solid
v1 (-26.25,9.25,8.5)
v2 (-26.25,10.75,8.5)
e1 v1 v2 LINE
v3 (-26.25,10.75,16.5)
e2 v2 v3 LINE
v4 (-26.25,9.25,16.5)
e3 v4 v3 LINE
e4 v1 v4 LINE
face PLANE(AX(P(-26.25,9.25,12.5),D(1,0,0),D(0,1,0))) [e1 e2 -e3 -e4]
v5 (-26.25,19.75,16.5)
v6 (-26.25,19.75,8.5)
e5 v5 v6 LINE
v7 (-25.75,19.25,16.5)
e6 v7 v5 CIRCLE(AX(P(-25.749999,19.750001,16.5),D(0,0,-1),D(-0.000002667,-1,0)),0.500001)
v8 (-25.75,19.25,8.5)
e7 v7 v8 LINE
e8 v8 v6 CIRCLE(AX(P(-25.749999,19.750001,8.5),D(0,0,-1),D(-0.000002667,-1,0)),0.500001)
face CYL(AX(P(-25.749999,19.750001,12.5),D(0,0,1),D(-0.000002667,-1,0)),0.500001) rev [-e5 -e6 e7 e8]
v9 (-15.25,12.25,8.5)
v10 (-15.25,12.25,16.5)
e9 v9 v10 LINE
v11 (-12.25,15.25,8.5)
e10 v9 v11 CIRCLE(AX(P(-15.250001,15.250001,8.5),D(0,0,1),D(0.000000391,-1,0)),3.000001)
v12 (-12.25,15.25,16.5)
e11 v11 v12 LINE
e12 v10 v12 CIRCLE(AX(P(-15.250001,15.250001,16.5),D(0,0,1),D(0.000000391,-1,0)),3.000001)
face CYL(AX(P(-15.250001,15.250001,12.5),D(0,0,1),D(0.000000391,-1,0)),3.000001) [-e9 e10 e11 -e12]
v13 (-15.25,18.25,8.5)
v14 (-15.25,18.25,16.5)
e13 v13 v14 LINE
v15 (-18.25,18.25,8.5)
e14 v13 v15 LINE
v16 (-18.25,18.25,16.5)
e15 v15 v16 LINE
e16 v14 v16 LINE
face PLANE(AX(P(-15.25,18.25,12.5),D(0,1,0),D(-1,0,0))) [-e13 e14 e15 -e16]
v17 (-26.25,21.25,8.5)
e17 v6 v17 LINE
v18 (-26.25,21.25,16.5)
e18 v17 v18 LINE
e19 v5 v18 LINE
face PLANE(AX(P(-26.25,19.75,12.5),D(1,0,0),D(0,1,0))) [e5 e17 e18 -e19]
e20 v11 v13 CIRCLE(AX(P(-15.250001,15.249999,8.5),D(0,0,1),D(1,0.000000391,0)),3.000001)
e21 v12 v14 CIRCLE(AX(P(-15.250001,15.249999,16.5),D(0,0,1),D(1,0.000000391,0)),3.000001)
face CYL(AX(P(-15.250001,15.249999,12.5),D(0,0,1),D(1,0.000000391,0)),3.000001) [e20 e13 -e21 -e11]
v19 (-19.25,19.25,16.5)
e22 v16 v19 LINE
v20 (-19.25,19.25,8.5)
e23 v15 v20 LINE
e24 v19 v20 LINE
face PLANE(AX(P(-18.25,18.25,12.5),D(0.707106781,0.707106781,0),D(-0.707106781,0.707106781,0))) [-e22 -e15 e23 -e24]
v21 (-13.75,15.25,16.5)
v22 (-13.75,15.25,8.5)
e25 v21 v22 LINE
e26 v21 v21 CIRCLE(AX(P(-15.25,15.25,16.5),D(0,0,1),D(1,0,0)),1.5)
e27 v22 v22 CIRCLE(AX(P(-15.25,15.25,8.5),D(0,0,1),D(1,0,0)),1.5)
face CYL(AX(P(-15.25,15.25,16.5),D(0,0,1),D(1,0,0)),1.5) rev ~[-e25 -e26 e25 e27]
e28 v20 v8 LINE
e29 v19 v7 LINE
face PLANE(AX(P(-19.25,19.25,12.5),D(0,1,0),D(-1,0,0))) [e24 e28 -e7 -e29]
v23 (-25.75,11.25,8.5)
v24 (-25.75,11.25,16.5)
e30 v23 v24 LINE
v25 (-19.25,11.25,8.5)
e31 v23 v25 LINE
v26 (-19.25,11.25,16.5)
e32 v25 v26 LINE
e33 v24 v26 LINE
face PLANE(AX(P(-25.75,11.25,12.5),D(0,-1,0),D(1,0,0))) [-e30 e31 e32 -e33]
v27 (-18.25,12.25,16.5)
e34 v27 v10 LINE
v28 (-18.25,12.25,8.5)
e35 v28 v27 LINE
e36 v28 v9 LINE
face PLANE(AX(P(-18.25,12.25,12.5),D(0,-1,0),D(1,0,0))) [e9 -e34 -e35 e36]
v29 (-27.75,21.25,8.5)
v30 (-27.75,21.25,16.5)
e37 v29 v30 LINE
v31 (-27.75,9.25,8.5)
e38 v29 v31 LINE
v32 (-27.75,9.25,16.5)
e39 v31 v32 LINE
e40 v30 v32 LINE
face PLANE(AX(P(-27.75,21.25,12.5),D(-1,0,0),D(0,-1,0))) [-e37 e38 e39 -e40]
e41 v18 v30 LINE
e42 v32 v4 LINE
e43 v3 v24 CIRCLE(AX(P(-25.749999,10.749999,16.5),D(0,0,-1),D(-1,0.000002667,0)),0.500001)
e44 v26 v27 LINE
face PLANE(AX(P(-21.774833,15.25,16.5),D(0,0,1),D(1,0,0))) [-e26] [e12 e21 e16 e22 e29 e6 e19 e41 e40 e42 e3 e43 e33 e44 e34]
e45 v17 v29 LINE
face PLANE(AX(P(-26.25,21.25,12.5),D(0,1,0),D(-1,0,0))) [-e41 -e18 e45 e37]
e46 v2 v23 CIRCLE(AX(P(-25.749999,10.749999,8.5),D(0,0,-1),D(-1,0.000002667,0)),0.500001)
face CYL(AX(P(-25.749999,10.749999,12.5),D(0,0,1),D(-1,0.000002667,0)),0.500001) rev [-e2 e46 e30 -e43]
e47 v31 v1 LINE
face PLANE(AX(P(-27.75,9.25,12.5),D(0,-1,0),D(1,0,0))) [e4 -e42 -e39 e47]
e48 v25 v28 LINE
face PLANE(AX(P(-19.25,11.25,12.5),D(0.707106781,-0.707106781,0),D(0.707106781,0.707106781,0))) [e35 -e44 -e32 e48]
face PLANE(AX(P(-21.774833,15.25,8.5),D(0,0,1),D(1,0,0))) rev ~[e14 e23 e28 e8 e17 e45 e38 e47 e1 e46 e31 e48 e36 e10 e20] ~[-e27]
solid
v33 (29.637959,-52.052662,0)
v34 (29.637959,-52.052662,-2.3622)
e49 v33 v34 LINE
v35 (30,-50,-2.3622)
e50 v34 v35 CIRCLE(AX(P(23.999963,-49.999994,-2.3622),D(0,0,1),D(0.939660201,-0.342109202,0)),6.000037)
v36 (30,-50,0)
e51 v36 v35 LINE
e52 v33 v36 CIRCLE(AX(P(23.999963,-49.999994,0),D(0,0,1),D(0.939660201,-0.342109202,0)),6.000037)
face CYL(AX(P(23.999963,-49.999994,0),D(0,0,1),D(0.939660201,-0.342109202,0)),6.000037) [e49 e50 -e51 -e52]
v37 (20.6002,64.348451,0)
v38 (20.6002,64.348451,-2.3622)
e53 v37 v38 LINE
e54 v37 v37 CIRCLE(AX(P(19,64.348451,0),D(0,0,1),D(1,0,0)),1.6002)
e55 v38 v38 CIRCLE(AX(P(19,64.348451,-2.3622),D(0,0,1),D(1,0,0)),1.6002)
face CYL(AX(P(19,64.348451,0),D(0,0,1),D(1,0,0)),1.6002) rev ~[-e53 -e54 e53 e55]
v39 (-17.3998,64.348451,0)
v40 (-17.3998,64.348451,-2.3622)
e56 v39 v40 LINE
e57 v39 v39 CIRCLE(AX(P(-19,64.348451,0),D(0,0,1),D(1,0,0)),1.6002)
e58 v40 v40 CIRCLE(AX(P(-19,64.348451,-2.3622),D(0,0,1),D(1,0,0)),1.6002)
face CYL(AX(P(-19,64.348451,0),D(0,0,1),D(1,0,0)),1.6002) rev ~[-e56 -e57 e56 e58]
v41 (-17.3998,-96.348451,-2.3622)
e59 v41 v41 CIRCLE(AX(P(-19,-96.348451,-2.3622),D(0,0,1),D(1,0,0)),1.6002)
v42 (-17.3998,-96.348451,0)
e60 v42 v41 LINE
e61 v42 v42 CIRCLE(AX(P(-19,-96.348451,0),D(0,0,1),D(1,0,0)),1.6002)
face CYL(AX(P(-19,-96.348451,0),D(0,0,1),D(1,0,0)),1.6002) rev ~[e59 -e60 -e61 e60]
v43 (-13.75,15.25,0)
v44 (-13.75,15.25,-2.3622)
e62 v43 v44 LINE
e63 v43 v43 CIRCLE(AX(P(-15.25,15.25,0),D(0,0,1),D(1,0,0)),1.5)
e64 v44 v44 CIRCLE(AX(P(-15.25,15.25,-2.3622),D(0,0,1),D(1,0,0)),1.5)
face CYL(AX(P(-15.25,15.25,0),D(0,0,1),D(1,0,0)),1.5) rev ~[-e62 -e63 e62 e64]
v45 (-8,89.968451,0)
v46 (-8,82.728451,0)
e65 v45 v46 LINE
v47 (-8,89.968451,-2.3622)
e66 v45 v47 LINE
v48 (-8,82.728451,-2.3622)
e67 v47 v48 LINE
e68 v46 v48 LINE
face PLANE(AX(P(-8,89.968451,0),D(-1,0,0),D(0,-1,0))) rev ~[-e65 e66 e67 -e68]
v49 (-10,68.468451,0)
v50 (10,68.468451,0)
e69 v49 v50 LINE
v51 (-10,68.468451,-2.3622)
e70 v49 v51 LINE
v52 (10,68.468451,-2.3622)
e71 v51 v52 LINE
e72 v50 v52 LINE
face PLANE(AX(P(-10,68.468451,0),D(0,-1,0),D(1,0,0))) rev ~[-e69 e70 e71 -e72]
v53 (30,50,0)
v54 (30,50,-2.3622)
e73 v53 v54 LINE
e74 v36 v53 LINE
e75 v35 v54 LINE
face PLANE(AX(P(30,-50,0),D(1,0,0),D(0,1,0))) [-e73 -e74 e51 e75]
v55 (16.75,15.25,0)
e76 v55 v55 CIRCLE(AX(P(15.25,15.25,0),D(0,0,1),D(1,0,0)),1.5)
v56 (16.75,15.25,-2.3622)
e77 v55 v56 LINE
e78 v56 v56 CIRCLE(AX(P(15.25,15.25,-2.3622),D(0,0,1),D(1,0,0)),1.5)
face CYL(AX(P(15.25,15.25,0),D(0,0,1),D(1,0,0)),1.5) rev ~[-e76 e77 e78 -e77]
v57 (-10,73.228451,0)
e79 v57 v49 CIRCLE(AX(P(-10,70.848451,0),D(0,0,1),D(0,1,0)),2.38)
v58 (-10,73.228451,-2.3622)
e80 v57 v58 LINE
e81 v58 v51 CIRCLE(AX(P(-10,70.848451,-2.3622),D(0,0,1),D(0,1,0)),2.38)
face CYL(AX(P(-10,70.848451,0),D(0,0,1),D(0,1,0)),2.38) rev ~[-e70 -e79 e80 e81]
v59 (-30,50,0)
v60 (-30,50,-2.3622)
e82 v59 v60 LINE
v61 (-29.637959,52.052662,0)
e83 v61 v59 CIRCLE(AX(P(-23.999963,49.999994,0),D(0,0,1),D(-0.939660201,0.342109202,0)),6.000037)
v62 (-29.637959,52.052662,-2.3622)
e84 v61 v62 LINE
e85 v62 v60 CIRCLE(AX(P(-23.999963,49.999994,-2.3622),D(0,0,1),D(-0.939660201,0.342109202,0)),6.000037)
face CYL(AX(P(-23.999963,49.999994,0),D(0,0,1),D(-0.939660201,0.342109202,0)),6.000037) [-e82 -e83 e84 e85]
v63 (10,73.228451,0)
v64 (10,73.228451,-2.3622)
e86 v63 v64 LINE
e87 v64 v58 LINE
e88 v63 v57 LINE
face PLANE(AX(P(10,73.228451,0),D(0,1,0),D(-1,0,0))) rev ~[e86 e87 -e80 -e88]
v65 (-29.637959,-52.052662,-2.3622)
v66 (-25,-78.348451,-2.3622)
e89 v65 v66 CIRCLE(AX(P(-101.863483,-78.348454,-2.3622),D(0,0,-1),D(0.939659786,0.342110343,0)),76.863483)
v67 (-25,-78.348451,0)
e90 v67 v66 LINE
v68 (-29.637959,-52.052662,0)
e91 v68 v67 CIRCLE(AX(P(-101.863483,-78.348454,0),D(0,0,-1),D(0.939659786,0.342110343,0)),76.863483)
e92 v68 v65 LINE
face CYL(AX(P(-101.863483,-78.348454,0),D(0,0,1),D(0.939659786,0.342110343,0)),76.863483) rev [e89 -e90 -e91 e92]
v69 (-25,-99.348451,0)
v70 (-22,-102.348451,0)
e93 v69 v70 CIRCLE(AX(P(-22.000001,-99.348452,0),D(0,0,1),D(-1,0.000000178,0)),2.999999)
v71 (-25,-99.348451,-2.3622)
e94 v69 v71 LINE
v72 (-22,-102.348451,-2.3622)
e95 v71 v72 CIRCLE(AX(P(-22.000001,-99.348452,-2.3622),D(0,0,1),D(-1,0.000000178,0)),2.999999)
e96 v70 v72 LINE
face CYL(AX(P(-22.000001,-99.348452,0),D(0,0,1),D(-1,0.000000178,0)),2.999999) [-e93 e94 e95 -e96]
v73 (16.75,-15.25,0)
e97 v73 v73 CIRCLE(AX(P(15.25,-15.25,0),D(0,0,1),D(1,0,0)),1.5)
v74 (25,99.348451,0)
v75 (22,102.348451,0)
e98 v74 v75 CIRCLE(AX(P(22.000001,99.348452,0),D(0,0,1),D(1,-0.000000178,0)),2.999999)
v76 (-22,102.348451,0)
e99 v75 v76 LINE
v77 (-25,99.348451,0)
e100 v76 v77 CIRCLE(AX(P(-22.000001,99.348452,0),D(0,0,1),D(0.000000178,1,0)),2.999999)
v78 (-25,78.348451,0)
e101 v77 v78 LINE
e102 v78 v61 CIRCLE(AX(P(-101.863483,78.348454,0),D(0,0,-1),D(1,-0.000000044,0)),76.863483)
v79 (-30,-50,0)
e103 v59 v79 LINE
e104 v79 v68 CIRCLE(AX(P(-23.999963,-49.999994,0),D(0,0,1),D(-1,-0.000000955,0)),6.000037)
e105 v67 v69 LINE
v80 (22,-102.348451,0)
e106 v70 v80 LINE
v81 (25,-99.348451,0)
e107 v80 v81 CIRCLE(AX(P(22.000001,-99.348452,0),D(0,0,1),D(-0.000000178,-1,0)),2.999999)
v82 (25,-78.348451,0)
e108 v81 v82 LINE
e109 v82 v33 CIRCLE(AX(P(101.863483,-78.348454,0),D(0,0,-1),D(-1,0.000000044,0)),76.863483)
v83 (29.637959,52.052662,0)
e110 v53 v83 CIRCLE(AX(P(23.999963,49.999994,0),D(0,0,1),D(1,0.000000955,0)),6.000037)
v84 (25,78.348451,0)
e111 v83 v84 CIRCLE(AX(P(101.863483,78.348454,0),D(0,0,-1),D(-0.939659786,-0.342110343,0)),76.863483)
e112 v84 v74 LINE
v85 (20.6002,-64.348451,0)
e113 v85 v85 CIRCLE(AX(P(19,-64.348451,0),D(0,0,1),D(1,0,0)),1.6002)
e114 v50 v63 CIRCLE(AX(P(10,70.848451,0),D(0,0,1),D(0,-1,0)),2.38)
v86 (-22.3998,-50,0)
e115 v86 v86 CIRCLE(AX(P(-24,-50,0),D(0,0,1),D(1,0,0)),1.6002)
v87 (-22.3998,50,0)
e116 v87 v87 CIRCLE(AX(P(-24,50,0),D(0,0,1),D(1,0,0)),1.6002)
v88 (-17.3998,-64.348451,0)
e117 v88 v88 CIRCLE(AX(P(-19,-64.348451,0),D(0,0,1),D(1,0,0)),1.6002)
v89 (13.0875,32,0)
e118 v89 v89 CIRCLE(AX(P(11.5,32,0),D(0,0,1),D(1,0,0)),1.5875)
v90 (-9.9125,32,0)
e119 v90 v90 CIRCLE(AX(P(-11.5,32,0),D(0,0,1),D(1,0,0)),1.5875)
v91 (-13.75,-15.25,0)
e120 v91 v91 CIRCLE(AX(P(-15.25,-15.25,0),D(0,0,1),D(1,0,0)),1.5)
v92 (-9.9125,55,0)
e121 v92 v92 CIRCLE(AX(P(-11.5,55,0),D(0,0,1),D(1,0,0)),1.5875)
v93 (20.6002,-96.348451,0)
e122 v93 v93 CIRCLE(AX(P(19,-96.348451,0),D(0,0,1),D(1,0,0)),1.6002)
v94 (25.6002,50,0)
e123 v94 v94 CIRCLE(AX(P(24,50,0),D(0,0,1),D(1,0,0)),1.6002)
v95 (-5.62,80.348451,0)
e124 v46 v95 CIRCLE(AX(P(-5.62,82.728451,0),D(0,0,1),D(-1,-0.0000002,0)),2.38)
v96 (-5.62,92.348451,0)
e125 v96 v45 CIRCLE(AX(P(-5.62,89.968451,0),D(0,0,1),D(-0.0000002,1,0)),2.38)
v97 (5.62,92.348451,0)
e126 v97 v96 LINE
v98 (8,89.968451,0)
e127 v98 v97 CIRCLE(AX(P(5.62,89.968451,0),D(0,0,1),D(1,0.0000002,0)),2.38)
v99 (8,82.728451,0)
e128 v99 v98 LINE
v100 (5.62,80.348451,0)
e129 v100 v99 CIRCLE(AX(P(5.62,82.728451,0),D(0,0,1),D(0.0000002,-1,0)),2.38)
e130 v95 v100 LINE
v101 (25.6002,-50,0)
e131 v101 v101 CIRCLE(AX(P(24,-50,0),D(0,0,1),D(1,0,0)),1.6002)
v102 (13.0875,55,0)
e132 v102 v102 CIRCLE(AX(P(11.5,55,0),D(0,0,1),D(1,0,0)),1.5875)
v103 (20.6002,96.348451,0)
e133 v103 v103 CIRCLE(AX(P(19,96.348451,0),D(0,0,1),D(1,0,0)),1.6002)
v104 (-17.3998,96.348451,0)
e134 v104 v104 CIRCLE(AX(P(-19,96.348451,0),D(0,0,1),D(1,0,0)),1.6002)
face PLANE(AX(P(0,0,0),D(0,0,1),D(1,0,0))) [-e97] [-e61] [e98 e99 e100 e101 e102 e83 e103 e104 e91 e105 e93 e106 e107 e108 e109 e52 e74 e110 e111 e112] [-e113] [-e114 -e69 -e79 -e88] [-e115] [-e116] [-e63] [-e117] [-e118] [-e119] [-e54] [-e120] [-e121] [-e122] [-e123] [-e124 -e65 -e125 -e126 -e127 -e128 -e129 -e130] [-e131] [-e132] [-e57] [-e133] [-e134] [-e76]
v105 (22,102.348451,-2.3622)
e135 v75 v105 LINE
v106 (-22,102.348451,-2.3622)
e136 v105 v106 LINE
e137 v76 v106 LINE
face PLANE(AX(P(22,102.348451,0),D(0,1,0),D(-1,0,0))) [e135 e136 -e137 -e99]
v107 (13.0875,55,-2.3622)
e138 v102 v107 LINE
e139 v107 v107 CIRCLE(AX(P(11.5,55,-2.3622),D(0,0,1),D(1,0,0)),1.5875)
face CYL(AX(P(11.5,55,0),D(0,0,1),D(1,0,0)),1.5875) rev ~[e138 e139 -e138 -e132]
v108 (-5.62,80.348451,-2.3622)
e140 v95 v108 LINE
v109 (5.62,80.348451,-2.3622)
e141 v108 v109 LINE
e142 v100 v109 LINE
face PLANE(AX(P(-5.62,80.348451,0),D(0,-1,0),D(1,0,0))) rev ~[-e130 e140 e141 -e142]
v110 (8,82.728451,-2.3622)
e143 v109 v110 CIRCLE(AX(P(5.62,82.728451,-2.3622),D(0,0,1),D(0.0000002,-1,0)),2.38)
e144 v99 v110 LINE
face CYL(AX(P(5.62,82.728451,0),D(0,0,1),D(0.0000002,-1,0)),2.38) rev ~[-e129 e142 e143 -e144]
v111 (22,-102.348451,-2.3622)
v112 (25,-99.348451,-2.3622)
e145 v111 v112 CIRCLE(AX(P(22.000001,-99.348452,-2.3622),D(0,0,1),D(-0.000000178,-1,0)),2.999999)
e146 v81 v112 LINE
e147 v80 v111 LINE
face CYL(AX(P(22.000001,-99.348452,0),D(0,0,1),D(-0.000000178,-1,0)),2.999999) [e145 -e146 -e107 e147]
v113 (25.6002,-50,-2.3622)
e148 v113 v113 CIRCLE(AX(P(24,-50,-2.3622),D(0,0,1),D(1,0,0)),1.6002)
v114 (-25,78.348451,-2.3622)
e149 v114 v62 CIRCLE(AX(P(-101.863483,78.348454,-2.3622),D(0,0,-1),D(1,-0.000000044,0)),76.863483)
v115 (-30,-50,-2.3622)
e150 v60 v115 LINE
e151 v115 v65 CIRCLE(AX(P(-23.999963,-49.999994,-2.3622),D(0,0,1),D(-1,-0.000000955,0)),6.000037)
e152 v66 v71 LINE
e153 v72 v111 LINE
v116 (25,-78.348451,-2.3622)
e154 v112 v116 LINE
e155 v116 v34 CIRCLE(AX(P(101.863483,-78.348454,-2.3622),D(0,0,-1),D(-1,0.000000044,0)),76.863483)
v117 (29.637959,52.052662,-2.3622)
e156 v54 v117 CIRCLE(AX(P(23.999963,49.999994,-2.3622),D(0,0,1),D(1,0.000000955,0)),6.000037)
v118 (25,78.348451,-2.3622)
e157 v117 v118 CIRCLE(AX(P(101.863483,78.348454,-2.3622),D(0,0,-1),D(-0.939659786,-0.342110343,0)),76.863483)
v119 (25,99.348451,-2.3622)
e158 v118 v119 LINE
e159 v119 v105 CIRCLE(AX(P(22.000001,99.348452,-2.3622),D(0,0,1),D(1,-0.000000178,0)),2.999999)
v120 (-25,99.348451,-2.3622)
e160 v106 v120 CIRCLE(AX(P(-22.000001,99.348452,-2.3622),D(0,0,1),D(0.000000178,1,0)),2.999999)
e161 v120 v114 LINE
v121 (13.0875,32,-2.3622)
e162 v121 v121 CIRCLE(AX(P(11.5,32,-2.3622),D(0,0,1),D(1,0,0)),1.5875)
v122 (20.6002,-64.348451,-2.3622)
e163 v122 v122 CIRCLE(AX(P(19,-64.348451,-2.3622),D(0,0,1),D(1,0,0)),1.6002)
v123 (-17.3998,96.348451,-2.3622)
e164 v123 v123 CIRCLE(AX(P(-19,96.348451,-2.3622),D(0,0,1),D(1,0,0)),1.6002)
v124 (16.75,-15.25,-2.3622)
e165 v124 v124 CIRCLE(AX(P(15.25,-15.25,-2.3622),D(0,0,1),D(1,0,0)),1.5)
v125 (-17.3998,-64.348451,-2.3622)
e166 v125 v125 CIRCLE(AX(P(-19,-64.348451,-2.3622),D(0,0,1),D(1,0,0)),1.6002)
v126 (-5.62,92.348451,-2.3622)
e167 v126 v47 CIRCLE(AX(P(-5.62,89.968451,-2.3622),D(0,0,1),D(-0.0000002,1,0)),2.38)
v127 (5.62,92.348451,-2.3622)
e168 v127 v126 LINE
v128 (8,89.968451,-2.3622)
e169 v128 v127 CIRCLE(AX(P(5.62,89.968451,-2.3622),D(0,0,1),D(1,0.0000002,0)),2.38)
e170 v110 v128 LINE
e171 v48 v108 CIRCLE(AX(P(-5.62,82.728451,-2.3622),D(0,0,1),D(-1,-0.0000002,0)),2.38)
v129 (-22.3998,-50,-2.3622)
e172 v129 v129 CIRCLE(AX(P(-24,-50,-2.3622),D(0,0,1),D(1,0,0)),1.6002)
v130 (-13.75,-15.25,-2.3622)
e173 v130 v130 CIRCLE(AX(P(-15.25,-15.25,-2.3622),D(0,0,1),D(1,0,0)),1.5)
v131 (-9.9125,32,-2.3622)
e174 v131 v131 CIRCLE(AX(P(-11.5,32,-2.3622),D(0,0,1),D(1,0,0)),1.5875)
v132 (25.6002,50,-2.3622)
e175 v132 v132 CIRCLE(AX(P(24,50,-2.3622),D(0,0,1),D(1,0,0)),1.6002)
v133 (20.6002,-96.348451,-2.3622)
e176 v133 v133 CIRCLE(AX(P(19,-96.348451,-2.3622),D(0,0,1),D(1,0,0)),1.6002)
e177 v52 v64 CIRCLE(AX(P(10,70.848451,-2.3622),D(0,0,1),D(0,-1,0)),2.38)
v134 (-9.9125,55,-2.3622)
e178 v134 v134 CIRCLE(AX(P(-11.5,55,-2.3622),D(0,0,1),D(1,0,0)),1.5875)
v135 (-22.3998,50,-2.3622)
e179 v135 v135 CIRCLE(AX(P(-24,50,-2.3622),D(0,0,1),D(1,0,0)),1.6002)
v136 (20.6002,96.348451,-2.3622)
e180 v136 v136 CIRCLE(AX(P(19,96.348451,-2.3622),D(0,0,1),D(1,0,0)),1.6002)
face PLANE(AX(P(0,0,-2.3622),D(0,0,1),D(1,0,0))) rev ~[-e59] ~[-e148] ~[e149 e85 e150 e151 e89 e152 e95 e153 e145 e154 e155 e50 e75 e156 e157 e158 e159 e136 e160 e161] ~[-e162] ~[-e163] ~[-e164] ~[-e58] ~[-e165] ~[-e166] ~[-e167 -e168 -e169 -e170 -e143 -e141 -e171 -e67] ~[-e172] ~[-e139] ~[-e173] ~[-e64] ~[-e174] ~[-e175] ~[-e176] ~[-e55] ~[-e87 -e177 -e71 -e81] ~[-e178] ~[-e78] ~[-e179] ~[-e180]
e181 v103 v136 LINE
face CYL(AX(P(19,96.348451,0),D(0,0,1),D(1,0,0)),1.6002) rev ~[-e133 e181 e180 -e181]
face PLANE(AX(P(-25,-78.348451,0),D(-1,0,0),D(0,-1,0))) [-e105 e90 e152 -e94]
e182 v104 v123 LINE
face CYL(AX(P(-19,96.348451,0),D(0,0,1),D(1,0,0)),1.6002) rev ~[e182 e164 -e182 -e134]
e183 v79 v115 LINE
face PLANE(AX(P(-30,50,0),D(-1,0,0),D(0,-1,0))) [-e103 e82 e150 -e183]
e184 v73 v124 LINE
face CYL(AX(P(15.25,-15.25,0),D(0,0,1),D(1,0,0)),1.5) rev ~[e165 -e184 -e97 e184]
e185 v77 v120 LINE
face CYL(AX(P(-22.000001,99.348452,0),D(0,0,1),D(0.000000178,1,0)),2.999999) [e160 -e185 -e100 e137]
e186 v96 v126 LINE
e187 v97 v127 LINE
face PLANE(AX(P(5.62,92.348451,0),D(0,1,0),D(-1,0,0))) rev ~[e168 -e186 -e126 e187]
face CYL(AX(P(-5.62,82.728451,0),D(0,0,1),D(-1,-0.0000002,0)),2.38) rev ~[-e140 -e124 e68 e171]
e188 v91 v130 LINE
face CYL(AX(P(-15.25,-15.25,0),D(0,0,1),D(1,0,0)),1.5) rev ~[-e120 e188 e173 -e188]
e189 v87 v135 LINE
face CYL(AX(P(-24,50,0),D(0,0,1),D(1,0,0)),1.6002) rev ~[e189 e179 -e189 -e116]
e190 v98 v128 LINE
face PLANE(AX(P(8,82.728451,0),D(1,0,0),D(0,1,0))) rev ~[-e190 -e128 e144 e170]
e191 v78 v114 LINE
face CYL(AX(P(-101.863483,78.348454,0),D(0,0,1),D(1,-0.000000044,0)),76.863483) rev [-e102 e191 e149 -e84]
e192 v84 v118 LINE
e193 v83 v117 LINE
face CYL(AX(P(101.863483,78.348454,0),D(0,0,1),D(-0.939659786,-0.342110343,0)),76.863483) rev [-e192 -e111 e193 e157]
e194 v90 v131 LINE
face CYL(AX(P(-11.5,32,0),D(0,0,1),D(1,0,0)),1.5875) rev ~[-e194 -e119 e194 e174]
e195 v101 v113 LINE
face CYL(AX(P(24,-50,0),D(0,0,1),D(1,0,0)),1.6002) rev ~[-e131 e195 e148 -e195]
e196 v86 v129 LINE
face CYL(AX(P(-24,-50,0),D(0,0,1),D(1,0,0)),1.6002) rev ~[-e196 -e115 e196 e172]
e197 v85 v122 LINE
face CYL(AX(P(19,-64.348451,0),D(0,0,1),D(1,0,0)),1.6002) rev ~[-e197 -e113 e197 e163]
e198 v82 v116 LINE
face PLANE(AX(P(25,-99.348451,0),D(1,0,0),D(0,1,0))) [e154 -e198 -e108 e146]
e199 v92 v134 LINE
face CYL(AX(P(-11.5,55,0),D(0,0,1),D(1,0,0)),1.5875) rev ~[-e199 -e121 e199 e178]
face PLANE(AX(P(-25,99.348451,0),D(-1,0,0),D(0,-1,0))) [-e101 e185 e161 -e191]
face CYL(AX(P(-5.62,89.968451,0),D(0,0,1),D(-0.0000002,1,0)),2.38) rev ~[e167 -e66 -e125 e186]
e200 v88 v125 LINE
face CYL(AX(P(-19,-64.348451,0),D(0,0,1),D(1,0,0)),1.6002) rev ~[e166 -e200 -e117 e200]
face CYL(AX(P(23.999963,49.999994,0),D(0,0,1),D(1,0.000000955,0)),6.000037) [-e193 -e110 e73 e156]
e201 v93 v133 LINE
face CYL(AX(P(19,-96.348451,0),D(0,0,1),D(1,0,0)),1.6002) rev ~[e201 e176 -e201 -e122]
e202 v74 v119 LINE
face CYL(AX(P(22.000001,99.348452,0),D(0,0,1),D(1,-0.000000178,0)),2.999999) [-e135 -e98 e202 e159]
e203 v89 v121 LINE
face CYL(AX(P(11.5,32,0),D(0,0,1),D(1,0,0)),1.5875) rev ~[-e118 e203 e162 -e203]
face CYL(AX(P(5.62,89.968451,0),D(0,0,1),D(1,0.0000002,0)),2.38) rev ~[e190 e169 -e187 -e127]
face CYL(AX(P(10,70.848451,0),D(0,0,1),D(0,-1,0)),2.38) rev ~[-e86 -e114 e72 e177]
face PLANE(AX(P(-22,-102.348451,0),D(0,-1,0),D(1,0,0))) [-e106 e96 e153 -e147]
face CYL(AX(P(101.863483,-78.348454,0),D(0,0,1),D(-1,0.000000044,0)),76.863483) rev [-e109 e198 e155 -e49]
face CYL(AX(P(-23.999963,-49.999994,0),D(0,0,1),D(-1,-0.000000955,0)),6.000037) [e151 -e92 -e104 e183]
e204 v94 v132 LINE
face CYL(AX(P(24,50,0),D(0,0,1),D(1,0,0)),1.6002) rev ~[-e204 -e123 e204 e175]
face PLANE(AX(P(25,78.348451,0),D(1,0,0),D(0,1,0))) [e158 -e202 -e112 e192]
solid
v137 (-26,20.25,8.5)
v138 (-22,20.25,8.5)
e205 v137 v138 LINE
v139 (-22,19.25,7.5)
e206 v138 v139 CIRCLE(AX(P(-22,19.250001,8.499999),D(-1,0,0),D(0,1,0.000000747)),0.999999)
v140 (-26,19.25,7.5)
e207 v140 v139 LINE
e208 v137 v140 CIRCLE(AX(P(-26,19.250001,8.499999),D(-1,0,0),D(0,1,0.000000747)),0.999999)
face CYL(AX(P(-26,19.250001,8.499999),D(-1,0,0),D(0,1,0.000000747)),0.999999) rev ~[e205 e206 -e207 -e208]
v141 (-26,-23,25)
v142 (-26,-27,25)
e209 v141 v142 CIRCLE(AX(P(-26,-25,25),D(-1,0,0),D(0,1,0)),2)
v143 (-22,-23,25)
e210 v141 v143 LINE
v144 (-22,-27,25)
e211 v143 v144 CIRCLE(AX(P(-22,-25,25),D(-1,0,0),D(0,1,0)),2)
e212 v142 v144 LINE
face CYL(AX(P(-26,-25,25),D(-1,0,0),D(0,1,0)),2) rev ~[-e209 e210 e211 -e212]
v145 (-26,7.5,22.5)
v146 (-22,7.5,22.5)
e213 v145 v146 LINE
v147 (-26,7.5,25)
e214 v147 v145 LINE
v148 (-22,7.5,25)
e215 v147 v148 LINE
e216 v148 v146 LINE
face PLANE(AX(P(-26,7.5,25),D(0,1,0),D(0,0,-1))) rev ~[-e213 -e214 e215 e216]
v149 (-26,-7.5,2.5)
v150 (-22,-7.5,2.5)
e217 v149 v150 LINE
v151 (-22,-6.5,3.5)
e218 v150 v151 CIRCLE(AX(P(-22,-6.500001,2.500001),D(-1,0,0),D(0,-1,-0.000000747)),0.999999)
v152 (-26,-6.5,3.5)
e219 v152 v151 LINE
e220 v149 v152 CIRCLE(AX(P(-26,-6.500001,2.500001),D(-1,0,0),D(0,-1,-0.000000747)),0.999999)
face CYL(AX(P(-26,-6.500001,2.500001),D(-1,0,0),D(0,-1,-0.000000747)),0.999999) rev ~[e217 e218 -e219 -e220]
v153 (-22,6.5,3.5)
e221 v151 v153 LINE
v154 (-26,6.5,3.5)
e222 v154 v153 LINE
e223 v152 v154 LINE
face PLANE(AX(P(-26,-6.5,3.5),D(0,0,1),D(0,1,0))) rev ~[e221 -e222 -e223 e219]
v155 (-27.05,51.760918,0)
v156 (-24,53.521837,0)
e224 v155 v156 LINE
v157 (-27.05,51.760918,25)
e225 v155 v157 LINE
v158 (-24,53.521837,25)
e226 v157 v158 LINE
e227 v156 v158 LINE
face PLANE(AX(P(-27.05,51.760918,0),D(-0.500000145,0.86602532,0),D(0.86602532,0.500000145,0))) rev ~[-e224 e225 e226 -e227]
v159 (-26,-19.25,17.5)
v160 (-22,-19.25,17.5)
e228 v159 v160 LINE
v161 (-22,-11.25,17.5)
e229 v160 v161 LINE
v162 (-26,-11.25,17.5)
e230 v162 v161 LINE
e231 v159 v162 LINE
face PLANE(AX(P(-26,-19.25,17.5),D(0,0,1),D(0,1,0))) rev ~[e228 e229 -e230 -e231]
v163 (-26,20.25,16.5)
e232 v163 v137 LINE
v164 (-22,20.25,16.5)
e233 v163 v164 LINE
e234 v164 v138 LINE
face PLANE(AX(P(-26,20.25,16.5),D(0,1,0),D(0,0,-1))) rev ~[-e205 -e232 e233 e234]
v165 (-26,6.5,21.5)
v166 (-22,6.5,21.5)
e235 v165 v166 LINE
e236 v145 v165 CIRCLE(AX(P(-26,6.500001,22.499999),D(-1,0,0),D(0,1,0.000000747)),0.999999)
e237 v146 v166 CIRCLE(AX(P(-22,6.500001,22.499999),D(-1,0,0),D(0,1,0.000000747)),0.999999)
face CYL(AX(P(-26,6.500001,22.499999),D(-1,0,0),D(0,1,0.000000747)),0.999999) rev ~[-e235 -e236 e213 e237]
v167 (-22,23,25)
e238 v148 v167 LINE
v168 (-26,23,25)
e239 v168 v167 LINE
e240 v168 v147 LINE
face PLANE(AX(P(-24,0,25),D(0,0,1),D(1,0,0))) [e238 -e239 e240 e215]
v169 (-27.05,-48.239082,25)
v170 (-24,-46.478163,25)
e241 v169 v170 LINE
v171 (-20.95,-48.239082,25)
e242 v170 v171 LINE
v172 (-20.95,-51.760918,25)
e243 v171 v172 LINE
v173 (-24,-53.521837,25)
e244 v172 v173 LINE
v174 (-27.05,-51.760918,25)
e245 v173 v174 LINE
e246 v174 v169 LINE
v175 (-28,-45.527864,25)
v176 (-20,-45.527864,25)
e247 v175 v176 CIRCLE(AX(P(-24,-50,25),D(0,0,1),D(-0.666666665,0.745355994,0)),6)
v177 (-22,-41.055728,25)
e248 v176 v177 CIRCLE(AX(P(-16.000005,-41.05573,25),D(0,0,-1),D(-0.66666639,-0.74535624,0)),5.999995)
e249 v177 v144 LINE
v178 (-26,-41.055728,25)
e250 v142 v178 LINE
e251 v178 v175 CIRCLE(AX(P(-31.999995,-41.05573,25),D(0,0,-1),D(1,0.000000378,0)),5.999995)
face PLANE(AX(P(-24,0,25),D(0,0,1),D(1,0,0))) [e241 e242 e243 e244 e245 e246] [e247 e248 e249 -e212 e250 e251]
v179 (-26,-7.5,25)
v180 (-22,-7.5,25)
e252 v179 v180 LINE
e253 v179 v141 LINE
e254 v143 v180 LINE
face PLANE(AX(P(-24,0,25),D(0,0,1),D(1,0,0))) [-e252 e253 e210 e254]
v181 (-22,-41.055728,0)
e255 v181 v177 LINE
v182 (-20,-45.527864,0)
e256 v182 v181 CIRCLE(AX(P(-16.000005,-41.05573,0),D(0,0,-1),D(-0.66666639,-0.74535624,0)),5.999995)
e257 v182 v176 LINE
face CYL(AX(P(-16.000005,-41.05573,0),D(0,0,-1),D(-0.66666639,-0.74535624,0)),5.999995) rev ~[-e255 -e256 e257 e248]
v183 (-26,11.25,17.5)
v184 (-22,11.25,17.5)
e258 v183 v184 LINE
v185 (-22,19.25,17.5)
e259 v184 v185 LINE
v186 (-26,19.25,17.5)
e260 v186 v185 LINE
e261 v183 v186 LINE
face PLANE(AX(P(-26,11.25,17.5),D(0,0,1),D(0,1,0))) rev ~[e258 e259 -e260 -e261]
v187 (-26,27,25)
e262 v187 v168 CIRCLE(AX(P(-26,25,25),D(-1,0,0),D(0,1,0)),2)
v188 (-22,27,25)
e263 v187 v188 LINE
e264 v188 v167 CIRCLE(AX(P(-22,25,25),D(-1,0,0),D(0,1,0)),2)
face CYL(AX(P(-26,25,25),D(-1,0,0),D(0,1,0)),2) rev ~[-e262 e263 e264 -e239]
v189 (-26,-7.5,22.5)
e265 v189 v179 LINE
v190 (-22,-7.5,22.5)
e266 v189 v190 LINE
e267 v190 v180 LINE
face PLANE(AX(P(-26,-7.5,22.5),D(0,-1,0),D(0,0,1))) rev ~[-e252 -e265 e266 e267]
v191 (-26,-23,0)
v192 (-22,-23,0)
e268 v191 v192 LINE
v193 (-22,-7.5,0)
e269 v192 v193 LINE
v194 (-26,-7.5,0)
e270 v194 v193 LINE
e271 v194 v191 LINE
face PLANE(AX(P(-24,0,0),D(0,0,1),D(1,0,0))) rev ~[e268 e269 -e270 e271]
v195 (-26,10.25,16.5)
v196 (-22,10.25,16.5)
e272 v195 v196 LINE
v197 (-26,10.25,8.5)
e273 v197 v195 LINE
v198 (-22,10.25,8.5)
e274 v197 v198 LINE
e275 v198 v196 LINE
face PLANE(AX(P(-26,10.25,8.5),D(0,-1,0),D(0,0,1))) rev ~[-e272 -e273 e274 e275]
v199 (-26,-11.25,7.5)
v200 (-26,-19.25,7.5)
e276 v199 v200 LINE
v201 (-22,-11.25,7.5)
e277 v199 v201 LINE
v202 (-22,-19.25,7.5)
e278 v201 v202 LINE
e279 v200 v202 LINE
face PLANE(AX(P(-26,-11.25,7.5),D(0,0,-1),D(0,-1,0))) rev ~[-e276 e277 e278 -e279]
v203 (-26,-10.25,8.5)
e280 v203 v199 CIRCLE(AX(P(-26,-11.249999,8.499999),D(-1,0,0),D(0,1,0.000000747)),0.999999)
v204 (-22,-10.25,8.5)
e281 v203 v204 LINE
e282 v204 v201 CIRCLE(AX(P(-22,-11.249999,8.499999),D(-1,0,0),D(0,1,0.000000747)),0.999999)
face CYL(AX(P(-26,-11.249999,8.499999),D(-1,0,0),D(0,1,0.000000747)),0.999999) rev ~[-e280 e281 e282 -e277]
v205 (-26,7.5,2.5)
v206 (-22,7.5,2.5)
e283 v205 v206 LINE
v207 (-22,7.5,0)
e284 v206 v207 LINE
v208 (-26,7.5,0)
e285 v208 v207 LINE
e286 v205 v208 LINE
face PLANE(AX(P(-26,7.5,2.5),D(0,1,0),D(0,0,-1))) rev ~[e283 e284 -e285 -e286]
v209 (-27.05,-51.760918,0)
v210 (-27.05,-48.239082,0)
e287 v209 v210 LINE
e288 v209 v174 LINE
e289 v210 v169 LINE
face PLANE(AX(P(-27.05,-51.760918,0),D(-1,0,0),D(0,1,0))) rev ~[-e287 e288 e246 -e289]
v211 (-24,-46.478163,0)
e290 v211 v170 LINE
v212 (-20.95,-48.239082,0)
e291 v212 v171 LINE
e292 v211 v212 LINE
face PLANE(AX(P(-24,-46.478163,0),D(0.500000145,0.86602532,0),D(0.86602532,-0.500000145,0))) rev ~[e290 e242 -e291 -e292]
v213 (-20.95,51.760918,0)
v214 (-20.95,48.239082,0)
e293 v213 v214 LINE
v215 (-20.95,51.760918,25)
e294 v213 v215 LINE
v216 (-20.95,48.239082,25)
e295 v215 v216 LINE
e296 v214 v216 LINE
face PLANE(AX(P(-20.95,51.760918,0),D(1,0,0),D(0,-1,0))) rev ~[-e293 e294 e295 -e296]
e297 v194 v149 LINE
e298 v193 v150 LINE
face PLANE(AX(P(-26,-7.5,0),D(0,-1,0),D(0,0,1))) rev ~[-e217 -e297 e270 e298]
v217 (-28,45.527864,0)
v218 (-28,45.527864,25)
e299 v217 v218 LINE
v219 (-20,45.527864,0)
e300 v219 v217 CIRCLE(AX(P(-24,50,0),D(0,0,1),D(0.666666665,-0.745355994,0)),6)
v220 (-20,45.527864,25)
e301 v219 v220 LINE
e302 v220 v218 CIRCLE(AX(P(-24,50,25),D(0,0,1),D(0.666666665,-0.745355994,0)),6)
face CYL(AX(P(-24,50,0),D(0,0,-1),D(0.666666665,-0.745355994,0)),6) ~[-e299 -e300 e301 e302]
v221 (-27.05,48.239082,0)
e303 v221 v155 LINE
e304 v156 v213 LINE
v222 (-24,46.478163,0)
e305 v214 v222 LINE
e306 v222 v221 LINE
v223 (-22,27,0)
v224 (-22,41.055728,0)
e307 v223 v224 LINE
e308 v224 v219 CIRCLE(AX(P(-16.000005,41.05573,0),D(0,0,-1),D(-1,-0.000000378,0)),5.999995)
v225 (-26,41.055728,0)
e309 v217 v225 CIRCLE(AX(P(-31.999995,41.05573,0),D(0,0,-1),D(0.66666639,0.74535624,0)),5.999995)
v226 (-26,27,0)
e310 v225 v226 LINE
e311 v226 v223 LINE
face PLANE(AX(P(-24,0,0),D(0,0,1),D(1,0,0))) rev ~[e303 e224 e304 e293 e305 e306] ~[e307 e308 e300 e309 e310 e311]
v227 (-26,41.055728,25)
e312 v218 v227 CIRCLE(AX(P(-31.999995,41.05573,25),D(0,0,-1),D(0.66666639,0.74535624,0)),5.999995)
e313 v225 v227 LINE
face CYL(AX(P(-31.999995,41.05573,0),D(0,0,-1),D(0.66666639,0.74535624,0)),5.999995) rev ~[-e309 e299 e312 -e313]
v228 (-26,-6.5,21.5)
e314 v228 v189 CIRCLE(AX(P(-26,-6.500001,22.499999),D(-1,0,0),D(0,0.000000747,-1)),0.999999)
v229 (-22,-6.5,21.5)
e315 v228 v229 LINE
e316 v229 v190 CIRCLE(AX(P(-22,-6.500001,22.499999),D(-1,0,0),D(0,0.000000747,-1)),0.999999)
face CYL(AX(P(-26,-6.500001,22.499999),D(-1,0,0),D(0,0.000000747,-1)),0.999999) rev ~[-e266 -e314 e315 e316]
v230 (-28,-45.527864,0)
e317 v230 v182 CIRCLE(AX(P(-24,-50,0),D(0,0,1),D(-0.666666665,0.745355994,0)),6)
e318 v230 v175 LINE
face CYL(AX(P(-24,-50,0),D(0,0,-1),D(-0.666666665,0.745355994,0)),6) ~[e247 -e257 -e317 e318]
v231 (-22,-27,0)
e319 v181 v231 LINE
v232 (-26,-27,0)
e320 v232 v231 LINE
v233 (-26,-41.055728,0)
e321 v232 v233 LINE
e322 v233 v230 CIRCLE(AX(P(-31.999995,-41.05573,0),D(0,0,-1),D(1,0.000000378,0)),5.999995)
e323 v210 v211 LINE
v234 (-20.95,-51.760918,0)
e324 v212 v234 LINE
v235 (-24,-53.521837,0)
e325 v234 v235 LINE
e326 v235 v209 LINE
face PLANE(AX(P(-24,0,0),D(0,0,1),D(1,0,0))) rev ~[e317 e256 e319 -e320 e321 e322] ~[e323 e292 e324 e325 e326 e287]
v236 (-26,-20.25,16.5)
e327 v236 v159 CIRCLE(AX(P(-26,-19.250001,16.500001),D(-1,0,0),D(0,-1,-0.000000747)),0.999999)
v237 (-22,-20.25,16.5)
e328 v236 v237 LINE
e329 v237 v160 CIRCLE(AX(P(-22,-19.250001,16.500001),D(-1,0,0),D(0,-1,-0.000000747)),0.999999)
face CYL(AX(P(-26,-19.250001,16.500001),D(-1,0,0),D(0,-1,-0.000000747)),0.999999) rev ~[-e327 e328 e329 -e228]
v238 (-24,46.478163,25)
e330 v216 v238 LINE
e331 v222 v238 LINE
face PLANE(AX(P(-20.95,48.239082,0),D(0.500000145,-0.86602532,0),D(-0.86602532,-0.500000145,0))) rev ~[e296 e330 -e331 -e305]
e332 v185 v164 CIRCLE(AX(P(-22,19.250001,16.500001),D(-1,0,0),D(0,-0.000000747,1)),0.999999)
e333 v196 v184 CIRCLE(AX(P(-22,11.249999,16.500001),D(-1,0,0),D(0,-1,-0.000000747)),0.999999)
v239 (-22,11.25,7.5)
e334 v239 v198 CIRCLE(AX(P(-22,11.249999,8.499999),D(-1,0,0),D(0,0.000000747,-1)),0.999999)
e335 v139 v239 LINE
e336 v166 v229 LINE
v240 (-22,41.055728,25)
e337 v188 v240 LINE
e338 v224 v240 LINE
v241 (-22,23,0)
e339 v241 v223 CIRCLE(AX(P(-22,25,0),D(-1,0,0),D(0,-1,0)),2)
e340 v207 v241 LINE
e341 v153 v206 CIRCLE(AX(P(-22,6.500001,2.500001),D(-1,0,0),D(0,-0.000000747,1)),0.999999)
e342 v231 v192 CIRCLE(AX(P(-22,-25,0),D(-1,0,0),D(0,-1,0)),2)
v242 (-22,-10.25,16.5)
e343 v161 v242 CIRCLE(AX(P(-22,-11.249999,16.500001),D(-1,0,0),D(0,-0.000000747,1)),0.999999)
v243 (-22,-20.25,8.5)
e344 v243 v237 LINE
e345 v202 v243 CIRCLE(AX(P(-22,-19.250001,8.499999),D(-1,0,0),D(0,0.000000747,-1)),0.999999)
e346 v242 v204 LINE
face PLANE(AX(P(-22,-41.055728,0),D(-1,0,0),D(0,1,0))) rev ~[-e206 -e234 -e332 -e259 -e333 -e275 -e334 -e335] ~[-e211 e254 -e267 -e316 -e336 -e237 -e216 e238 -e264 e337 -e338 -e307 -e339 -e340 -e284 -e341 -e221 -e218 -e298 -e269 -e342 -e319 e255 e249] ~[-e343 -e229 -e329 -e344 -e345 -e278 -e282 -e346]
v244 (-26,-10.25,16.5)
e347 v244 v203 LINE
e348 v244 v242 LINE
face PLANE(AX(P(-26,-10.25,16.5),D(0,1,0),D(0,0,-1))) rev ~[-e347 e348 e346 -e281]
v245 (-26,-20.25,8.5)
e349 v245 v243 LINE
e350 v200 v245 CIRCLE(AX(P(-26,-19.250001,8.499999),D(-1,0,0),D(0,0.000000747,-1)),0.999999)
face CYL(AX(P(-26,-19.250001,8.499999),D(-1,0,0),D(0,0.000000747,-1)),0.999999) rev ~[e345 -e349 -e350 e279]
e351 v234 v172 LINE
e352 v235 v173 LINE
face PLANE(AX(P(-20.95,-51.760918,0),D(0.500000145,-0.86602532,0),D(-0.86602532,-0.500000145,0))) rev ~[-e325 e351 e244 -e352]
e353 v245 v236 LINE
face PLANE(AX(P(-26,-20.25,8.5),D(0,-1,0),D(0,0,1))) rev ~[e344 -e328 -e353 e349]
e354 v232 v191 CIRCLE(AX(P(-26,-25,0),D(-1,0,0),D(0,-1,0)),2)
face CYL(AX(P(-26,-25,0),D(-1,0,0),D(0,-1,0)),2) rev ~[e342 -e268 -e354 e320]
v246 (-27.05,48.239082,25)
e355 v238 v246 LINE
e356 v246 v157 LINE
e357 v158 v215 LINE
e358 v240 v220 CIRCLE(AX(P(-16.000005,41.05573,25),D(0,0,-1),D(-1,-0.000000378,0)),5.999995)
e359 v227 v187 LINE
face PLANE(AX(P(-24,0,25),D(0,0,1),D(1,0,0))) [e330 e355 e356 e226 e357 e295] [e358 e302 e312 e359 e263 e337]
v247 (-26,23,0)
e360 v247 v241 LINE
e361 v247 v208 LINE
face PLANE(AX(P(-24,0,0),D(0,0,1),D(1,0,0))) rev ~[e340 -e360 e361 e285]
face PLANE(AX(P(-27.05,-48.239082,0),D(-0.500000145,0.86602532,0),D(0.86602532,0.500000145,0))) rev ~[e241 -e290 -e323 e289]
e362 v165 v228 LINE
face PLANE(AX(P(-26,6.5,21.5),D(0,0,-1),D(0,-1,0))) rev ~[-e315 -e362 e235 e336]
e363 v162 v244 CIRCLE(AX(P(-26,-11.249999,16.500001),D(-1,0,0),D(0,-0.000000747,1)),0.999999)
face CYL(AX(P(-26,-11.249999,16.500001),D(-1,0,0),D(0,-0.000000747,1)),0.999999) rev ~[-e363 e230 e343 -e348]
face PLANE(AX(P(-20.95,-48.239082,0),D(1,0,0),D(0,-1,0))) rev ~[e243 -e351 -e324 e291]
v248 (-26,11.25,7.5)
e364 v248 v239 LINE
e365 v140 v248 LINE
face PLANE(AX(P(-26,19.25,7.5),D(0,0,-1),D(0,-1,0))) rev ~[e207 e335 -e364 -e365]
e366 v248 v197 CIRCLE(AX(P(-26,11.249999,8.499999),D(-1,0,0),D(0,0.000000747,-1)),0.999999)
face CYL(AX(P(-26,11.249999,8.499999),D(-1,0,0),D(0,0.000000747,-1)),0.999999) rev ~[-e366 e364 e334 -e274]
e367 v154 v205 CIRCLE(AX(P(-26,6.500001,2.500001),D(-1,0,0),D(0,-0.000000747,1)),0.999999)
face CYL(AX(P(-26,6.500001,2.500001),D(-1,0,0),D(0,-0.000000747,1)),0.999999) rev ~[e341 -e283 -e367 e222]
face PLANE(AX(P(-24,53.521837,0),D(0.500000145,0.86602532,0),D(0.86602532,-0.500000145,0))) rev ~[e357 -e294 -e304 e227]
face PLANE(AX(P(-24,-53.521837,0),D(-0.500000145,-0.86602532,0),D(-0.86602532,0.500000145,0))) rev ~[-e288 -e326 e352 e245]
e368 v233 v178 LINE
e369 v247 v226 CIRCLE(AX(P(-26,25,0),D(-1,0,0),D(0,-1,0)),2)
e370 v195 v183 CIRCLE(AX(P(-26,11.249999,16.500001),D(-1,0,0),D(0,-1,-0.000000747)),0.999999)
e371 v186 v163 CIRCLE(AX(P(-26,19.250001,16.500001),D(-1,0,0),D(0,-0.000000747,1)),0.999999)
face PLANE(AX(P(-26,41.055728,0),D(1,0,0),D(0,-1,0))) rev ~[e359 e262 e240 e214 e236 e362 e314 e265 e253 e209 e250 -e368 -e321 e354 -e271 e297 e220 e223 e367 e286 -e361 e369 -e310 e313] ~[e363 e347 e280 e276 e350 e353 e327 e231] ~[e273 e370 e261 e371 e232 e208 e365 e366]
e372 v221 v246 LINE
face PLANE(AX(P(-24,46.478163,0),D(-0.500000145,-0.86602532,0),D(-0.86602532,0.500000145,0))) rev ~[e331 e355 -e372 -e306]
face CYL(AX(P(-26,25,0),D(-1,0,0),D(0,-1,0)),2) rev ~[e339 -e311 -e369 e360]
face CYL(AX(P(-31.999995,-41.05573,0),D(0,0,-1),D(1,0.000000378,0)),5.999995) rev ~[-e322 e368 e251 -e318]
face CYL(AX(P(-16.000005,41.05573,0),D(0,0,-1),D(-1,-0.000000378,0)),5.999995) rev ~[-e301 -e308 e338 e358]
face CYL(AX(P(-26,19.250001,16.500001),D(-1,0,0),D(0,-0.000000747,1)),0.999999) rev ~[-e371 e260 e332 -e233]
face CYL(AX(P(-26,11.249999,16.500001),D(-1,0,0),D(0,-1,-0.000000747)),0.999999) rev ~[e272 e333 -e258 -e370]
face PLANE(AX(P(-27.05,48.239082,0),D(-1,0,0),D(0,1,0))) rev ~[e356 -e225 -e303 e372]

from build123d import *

# Parameters (mm, degrees)
F1_DEPTH  = 2.3622
F2_R      = 1.6002
F2_R_2    = 1.5
F3_DEPTH  = 2.3632
F5_DEPTH  = 25
F7_DEPTH  = 25
F9_DEPTH  = 4
F12_DEPTH = 4
F13_R     = 1.5
F14_DEPTH = 8
F15_R     = 1.5875
F16_DEPTH = 2.3622


with BuildPart() as f1:
    # F0 (on Top) → F1 (new body)
    with BuildSketch(Plane.XY):
        with BuildLine():
            Line((22, 102.348451), (0, 102.348451))
            Line((0, 102.348451), (-22, 102.348451))
            ThreePointArc((-22, 102.348451), (-24.12132, 101.469772), (-25, 99.348451))
            Line((-25, 99.348451), (-25, 78.348451))
            ThreePointArc((-25, 78.348451), (-26.16837, 64.997616), (-29.637959, 52.052662))
            ThreePointArc((-29.637959, 52.052662), (-29.908796, 51.042173), (-30, 50))
            Line((-30, 50), (-30, -50))
            ThreePointArc((-30, -50), (-29.908796, -51.042173), (-29.637959, -52.052662))
            ThreePointArc((-29.637959, -52.052662), (-26.16837, -64.997616), (-25, -78.348451))
            Line((-25, -78.348451), (-25, -99.348451))
            ThreePointArc((-25, -99.348451), (-24.12132, -101.469772), (-22, -102.348451))
            Line((-22, -102.348451), (0, -102.348451))
            Line((0, -102.348451), (22, -102.348451))
            ThreePointArc((22, -102.348451), (24.12132, -101.469772), (25, -99.348451))
            Line((25, -99.348451), (25, -78.348451))
            ThreePointArc((25, -78.348451), (26.16837, -64.997616), (29.637959, -52.052662))
            ThreePointArc((29.637959, -52.052662), (29.908796, -51.042173), (30, -50))
            Line((30, -50), (30, 50))
            ThreePointArc((30, 50), (29.908796, 51.042173), (29.637959, 52.052662))
            ThreePointArc((29.637959, 52.052662), (26.16837, 64.997616), (25, 78.348451))
            Line((25, 78.348451), (25, 99.348451))
            ThreePointArc((25, 99.348451), (24.12132, 101.469772), (22, 102.348451))
        make_face()
    extrude(amount=-F1_DEPTH)

    # F2 (on face) → F3 (cut, through all)
    with BuildSketch(Plane.XY):
        with Locations((-19, 96.348451)):
            Circle(F2_R)
        with Locations((-19, 64.348451)):
            Circle(F2_R)
        with Locations((-19, -96.348451)):
            Circle(F2_R)
        with Locations((-19, -64.348451)):
            Circle(F2_R)
        with Locations((-24, -50)):
            Circle(F2_R)
        with Locations((-24, 50)):
            Circle(F2_R)
        with Locations((19, 96.348451)):
            Circle(F2_R)
        with Locations((19, 64.348451)):
            Circle(F2_R)
        with Locations((24, 50)):
            Circle(F2_R)
        with Locations((24, -50)):
            Circle(F2_R)
        with Locations((19, -64.348451)):
            Circle(F2_R)
        with Locations((19, -96.348451)):
            Circle(F2_R)
        with Locations((-15.25, -15.25)):
            Circle(F2_R_2)
        with Locations((-15.25, 15.25)):
            Circle(F2_R_2)
        with Locations((15.25, 15.25)):
            Circle(F2_R_2)
        with Locations((15.25, -15.25)):
            Circle(F2_R_2)
    extrude(amount=-F3_DEPTH, mode=Mode.SUBTRACT)

    # F15 (on Top) → F16 (cut, through all)
    with BuildSketch(Plane.XY):
        with BuildLine():
            Line((10, 73.228451), (-10, 73.228451))
            ThreePointArc((-10, 73.228451), (-12.38, 70.848451), (-10, 68.468451))
            Line((-10, 68.468451), (10, 68.468451))
            ThreePointArc((10, 68.468451), (12.38, 70.848451), (10, 73.228451))
        make_face()
        with BuildLine():
            Line((5.62, 92.348451), (-5.62, 92.348451))
            ThreePointArc((-5.62, 92.348451), (-7.302914, 91.651365), (-8, 89.968451))
            Line((-8, 89.968451), (-8, 82.728451))
            ThreePointArc((-8, 82.728451), (-7.302914, 81.045537), (-5.62, 80.348451))
            Line((-5.62, 80.348451), (5.62, 80.348451))
            ThreePointArc((5.62, 80.348451), (7.302914, 81.045537), (8, 82.728451))
            Line((8, 82.728451), (8, 89.968451))
            ThreePointArc((8, 89.968451), (7.302914, 91.651365), (5.62, 92.348451))
        make_face()
        with Locations((-11.5, 55)):
            Circle(F15_R)
        with Locations((11.5, 55)):
            Circle(F15_R)
        with Locations((-11.5, 32)):
            Circle(F15_R)
        with Locations((11.5, 32)):
            Circle(F15_R)
    extrude(amount=-F16_DEPTH, mode=Mode.SUBTRACT)


with BuildPart() as f5:
    # F4 (on Top) → F5 (new body)
    with BuildSketch(Plane.XY):
        with BuildLine():
            ThreePointArc((-22, 41.055728), (-21.477226, 43.505218), (-20, 45.527864))
            ThreePointArc((-20, 45.527864), (-24, 56), (-28, 45.527864))
            ThreePointArc((-28, 45.527864), (-26.522774, 43.505218), (-26, 41.055728))
            Line((-26, 41.055728), (-26, -41.055728))
            ThreePointArc((-26, -41.055728), (-26.522774, -43.505218), (-28, -45.527864))
            ThreePointArc((-28, -45.527864), (-24, -56), (-20, -45.527864))
            ThreePointArc((-20, -45.527864), (-21.477226, -43.505218), (-22, -41.055728))
            Line((-22, -41.055728), (-22, 41.055728))
        make_face()
    extrude(amount=F5_DEPTH)

    # F6 (on face) → F7 (cut, through all)
    with BuildSketch(Plane(origin=(0, 0, 0), x_dir=(1, 0, 0), z_dir=(0, 0, -1))):
        Polygon((-24, -46.478163), (-27.05, -48.239082), (-27.05, -51.760918), (-24, -53.521837), (-20.95, -51.760918), (-20.95, -48.239082), align=None)
        Polygon((-24, 53.521837), (-27.05, 51.760918), (-27.05, 48.239082), (-24, 46.478163), (-20.95, 48.239082), (-20.95, 51.760918), align=None)
    extrude(amount=-F7_DEPTH, mode=Mode.SUBTRACT)

    # F8 (on face) → F9 (cut, through all)
    with BuildSketch(Plane(origin=(-26, 0, 0), x_dir=(0, -1, 0), z_dir=(-1, 0, 0))):
        with BuildLine():
            ThreePointArc((-10.25, 16.5), (-10.542893, 17.207107), (-11.25, 17.5))
            Line((-11.25, 17.5), (-19.25, 17.5))
            ThreePointArc((-19.25, 17.5), (-19.957107, 17.207107), (-20.25, 16.5))
            Line((-20.25, 16.5), (-20.25, 8.5))
            ThreePointArc((-20.25, 8.5), (-19.957107, 7.792893), (-19.25, 7.5))
            Line((-19.25, 7.5), (-11.25, 7.5))
            ThreePointArc((-11.25, 7.5), (-10.542893, 7.792893), (-10.25, 8.5))
            Line((-10.25, 8.5), (-10.25, 16.5))
        make_face()
        with BuildLine():
            Line((-7.5, 2.5), (-7.5, 0))
            Line((-7.5, 0), (7.5, 0))
            Line((7.5, 0), (7.5, 2.5))
            ThreePointArc((7.5, 2.5), (7.207107, 3.207107), (6.5, 3.5))
            Line((6.5, 3.5), (-6.5, 3.5))
            ThreePointArc((-6.5, 3.5), (-7.207107, 3.207107), (-7.5, 2.5))
        make_face()
        with BuildLine():
            Line((-23, 25), (-27, 25))
            ThreePointArc((-27, 25), (-25, 23), (-23, 25))
        make_face()
        with BuildLine():
            Line((-27, 0), (-23, 0))
            ThreePointArc((-23, 0), (-25, 2), (-27, 0))
        make_face()
        with BuildLine():
            ThreePointArc((10.25, 8.5), (10.542893, 7.792893), (11.25, 7.5))
            Line((11.25, 7.5), (19.25, 7.5))
            ThreePointArc((19.25, 7.5), (19.957107, 7.792893), (20.25, 8.5))
            Line((20.25, 8.5), (20.25, 16.5))
            ThreePointArc((20.25, 16.5), (19.957107, 17.207107), (19.25, 17.5))
            Line((19.25, 17.5), (11.25, 17.5))
            ThreePointArc((11.25, 17.5), (10.542893, 17.207107), (10.25, 16.5))
            Line((10.25, 16.5), (10.25, 8.5))
        make_face()
        with BuildLine():
            ThreePointArc((23, 25), (25, 23), (27, 25))
            Line((27, 25), (23, 25))
        make_face()
        with BuildLine():
            Line((23, 0), (27, 0))
            ThreePointArc((27, 0), (25, 2), (23, 0))
        make_face()
        with BuildLine():
            ThreePointArc((-7.5, 22.5), (-7.207107, 21.792893), (-6.5, 21.5))
            Line((-6.5, 21.5), (6.5, 21.5))
            ThreePointArc((6.5, 21.5), (7.207107, 21.792893), (7.5, 22.5))
            Line((7.5, 22.5), (7.5, 25))
            Line((7.5, 25), (-7.5, 25))
            Line((-7.5, 25), (-7.5, 22.5))
        make_face()
    extrude(amount=-F9_DEPTH, mode=Mode.SUBTRACT)


with BuildPart() as f12:
    # F11 (on offset) → F12 (new body, symmetric)
    with BuildSketch(Plane.XY.offset(12.5)):
        with BuildLine():
            Line((-26.25, 19.75), (-26.25, 21.25))
            Line((-26.25, 21.25), (-27.75, 21.25))
            Line((-27.75, 21.25), (-27.75, 15.25))
            Line((-27.75, 15.25), (-27.75, 9.25))
            Line((-27.75, 9.25), (-26.25, 9.25))
            Line((-26.25, 9.25), (-26.25, 10.75))
            ThreePointArc((-26.25, 10.75), (-26.103553, 11.103553), (-25.75, 11.25))
            Line((-25.75, 11.25), (-19.25, 11.25))
            Line((-19.25, 11.25), (-18.25, 12.25))
            Line((-18.25, 12.25), (-15.25, 12.25))
            ThreePointArc((-15.25, 12.25), (-13.12868, 13.12868), (-12.25, 15.25))
            ThreePointArc((-12.25, 15.25), (-13.12868, 17.37132), (-15.25, 18.25))
            Line((-15.25, 18.25), (-18.25, 18.25))
            Line((-18.25, 18.25), (-19.25, 19.25))
            Line((-19.25, 19.25), (-25.75, 19.25))
            ThreePointArc((-25.75, 19.25), (-26.103553, 19.396447), (-26.25, 19.75))
        make_face()
    extrude(amount=F12_DEPTH, both=True)

    # F13 (on face) → F14 (cut, through all)
    with BuildSketch(Plane.XY.offset(16.5)):
        with Locations((-15.25, 15.25)):
            Circle(F13_R)
    extrude(amount=-F14_DEPTH, mode=Mode.SUBTRACT)


solid = Compound([f1.part, f5.part, f12.part])
